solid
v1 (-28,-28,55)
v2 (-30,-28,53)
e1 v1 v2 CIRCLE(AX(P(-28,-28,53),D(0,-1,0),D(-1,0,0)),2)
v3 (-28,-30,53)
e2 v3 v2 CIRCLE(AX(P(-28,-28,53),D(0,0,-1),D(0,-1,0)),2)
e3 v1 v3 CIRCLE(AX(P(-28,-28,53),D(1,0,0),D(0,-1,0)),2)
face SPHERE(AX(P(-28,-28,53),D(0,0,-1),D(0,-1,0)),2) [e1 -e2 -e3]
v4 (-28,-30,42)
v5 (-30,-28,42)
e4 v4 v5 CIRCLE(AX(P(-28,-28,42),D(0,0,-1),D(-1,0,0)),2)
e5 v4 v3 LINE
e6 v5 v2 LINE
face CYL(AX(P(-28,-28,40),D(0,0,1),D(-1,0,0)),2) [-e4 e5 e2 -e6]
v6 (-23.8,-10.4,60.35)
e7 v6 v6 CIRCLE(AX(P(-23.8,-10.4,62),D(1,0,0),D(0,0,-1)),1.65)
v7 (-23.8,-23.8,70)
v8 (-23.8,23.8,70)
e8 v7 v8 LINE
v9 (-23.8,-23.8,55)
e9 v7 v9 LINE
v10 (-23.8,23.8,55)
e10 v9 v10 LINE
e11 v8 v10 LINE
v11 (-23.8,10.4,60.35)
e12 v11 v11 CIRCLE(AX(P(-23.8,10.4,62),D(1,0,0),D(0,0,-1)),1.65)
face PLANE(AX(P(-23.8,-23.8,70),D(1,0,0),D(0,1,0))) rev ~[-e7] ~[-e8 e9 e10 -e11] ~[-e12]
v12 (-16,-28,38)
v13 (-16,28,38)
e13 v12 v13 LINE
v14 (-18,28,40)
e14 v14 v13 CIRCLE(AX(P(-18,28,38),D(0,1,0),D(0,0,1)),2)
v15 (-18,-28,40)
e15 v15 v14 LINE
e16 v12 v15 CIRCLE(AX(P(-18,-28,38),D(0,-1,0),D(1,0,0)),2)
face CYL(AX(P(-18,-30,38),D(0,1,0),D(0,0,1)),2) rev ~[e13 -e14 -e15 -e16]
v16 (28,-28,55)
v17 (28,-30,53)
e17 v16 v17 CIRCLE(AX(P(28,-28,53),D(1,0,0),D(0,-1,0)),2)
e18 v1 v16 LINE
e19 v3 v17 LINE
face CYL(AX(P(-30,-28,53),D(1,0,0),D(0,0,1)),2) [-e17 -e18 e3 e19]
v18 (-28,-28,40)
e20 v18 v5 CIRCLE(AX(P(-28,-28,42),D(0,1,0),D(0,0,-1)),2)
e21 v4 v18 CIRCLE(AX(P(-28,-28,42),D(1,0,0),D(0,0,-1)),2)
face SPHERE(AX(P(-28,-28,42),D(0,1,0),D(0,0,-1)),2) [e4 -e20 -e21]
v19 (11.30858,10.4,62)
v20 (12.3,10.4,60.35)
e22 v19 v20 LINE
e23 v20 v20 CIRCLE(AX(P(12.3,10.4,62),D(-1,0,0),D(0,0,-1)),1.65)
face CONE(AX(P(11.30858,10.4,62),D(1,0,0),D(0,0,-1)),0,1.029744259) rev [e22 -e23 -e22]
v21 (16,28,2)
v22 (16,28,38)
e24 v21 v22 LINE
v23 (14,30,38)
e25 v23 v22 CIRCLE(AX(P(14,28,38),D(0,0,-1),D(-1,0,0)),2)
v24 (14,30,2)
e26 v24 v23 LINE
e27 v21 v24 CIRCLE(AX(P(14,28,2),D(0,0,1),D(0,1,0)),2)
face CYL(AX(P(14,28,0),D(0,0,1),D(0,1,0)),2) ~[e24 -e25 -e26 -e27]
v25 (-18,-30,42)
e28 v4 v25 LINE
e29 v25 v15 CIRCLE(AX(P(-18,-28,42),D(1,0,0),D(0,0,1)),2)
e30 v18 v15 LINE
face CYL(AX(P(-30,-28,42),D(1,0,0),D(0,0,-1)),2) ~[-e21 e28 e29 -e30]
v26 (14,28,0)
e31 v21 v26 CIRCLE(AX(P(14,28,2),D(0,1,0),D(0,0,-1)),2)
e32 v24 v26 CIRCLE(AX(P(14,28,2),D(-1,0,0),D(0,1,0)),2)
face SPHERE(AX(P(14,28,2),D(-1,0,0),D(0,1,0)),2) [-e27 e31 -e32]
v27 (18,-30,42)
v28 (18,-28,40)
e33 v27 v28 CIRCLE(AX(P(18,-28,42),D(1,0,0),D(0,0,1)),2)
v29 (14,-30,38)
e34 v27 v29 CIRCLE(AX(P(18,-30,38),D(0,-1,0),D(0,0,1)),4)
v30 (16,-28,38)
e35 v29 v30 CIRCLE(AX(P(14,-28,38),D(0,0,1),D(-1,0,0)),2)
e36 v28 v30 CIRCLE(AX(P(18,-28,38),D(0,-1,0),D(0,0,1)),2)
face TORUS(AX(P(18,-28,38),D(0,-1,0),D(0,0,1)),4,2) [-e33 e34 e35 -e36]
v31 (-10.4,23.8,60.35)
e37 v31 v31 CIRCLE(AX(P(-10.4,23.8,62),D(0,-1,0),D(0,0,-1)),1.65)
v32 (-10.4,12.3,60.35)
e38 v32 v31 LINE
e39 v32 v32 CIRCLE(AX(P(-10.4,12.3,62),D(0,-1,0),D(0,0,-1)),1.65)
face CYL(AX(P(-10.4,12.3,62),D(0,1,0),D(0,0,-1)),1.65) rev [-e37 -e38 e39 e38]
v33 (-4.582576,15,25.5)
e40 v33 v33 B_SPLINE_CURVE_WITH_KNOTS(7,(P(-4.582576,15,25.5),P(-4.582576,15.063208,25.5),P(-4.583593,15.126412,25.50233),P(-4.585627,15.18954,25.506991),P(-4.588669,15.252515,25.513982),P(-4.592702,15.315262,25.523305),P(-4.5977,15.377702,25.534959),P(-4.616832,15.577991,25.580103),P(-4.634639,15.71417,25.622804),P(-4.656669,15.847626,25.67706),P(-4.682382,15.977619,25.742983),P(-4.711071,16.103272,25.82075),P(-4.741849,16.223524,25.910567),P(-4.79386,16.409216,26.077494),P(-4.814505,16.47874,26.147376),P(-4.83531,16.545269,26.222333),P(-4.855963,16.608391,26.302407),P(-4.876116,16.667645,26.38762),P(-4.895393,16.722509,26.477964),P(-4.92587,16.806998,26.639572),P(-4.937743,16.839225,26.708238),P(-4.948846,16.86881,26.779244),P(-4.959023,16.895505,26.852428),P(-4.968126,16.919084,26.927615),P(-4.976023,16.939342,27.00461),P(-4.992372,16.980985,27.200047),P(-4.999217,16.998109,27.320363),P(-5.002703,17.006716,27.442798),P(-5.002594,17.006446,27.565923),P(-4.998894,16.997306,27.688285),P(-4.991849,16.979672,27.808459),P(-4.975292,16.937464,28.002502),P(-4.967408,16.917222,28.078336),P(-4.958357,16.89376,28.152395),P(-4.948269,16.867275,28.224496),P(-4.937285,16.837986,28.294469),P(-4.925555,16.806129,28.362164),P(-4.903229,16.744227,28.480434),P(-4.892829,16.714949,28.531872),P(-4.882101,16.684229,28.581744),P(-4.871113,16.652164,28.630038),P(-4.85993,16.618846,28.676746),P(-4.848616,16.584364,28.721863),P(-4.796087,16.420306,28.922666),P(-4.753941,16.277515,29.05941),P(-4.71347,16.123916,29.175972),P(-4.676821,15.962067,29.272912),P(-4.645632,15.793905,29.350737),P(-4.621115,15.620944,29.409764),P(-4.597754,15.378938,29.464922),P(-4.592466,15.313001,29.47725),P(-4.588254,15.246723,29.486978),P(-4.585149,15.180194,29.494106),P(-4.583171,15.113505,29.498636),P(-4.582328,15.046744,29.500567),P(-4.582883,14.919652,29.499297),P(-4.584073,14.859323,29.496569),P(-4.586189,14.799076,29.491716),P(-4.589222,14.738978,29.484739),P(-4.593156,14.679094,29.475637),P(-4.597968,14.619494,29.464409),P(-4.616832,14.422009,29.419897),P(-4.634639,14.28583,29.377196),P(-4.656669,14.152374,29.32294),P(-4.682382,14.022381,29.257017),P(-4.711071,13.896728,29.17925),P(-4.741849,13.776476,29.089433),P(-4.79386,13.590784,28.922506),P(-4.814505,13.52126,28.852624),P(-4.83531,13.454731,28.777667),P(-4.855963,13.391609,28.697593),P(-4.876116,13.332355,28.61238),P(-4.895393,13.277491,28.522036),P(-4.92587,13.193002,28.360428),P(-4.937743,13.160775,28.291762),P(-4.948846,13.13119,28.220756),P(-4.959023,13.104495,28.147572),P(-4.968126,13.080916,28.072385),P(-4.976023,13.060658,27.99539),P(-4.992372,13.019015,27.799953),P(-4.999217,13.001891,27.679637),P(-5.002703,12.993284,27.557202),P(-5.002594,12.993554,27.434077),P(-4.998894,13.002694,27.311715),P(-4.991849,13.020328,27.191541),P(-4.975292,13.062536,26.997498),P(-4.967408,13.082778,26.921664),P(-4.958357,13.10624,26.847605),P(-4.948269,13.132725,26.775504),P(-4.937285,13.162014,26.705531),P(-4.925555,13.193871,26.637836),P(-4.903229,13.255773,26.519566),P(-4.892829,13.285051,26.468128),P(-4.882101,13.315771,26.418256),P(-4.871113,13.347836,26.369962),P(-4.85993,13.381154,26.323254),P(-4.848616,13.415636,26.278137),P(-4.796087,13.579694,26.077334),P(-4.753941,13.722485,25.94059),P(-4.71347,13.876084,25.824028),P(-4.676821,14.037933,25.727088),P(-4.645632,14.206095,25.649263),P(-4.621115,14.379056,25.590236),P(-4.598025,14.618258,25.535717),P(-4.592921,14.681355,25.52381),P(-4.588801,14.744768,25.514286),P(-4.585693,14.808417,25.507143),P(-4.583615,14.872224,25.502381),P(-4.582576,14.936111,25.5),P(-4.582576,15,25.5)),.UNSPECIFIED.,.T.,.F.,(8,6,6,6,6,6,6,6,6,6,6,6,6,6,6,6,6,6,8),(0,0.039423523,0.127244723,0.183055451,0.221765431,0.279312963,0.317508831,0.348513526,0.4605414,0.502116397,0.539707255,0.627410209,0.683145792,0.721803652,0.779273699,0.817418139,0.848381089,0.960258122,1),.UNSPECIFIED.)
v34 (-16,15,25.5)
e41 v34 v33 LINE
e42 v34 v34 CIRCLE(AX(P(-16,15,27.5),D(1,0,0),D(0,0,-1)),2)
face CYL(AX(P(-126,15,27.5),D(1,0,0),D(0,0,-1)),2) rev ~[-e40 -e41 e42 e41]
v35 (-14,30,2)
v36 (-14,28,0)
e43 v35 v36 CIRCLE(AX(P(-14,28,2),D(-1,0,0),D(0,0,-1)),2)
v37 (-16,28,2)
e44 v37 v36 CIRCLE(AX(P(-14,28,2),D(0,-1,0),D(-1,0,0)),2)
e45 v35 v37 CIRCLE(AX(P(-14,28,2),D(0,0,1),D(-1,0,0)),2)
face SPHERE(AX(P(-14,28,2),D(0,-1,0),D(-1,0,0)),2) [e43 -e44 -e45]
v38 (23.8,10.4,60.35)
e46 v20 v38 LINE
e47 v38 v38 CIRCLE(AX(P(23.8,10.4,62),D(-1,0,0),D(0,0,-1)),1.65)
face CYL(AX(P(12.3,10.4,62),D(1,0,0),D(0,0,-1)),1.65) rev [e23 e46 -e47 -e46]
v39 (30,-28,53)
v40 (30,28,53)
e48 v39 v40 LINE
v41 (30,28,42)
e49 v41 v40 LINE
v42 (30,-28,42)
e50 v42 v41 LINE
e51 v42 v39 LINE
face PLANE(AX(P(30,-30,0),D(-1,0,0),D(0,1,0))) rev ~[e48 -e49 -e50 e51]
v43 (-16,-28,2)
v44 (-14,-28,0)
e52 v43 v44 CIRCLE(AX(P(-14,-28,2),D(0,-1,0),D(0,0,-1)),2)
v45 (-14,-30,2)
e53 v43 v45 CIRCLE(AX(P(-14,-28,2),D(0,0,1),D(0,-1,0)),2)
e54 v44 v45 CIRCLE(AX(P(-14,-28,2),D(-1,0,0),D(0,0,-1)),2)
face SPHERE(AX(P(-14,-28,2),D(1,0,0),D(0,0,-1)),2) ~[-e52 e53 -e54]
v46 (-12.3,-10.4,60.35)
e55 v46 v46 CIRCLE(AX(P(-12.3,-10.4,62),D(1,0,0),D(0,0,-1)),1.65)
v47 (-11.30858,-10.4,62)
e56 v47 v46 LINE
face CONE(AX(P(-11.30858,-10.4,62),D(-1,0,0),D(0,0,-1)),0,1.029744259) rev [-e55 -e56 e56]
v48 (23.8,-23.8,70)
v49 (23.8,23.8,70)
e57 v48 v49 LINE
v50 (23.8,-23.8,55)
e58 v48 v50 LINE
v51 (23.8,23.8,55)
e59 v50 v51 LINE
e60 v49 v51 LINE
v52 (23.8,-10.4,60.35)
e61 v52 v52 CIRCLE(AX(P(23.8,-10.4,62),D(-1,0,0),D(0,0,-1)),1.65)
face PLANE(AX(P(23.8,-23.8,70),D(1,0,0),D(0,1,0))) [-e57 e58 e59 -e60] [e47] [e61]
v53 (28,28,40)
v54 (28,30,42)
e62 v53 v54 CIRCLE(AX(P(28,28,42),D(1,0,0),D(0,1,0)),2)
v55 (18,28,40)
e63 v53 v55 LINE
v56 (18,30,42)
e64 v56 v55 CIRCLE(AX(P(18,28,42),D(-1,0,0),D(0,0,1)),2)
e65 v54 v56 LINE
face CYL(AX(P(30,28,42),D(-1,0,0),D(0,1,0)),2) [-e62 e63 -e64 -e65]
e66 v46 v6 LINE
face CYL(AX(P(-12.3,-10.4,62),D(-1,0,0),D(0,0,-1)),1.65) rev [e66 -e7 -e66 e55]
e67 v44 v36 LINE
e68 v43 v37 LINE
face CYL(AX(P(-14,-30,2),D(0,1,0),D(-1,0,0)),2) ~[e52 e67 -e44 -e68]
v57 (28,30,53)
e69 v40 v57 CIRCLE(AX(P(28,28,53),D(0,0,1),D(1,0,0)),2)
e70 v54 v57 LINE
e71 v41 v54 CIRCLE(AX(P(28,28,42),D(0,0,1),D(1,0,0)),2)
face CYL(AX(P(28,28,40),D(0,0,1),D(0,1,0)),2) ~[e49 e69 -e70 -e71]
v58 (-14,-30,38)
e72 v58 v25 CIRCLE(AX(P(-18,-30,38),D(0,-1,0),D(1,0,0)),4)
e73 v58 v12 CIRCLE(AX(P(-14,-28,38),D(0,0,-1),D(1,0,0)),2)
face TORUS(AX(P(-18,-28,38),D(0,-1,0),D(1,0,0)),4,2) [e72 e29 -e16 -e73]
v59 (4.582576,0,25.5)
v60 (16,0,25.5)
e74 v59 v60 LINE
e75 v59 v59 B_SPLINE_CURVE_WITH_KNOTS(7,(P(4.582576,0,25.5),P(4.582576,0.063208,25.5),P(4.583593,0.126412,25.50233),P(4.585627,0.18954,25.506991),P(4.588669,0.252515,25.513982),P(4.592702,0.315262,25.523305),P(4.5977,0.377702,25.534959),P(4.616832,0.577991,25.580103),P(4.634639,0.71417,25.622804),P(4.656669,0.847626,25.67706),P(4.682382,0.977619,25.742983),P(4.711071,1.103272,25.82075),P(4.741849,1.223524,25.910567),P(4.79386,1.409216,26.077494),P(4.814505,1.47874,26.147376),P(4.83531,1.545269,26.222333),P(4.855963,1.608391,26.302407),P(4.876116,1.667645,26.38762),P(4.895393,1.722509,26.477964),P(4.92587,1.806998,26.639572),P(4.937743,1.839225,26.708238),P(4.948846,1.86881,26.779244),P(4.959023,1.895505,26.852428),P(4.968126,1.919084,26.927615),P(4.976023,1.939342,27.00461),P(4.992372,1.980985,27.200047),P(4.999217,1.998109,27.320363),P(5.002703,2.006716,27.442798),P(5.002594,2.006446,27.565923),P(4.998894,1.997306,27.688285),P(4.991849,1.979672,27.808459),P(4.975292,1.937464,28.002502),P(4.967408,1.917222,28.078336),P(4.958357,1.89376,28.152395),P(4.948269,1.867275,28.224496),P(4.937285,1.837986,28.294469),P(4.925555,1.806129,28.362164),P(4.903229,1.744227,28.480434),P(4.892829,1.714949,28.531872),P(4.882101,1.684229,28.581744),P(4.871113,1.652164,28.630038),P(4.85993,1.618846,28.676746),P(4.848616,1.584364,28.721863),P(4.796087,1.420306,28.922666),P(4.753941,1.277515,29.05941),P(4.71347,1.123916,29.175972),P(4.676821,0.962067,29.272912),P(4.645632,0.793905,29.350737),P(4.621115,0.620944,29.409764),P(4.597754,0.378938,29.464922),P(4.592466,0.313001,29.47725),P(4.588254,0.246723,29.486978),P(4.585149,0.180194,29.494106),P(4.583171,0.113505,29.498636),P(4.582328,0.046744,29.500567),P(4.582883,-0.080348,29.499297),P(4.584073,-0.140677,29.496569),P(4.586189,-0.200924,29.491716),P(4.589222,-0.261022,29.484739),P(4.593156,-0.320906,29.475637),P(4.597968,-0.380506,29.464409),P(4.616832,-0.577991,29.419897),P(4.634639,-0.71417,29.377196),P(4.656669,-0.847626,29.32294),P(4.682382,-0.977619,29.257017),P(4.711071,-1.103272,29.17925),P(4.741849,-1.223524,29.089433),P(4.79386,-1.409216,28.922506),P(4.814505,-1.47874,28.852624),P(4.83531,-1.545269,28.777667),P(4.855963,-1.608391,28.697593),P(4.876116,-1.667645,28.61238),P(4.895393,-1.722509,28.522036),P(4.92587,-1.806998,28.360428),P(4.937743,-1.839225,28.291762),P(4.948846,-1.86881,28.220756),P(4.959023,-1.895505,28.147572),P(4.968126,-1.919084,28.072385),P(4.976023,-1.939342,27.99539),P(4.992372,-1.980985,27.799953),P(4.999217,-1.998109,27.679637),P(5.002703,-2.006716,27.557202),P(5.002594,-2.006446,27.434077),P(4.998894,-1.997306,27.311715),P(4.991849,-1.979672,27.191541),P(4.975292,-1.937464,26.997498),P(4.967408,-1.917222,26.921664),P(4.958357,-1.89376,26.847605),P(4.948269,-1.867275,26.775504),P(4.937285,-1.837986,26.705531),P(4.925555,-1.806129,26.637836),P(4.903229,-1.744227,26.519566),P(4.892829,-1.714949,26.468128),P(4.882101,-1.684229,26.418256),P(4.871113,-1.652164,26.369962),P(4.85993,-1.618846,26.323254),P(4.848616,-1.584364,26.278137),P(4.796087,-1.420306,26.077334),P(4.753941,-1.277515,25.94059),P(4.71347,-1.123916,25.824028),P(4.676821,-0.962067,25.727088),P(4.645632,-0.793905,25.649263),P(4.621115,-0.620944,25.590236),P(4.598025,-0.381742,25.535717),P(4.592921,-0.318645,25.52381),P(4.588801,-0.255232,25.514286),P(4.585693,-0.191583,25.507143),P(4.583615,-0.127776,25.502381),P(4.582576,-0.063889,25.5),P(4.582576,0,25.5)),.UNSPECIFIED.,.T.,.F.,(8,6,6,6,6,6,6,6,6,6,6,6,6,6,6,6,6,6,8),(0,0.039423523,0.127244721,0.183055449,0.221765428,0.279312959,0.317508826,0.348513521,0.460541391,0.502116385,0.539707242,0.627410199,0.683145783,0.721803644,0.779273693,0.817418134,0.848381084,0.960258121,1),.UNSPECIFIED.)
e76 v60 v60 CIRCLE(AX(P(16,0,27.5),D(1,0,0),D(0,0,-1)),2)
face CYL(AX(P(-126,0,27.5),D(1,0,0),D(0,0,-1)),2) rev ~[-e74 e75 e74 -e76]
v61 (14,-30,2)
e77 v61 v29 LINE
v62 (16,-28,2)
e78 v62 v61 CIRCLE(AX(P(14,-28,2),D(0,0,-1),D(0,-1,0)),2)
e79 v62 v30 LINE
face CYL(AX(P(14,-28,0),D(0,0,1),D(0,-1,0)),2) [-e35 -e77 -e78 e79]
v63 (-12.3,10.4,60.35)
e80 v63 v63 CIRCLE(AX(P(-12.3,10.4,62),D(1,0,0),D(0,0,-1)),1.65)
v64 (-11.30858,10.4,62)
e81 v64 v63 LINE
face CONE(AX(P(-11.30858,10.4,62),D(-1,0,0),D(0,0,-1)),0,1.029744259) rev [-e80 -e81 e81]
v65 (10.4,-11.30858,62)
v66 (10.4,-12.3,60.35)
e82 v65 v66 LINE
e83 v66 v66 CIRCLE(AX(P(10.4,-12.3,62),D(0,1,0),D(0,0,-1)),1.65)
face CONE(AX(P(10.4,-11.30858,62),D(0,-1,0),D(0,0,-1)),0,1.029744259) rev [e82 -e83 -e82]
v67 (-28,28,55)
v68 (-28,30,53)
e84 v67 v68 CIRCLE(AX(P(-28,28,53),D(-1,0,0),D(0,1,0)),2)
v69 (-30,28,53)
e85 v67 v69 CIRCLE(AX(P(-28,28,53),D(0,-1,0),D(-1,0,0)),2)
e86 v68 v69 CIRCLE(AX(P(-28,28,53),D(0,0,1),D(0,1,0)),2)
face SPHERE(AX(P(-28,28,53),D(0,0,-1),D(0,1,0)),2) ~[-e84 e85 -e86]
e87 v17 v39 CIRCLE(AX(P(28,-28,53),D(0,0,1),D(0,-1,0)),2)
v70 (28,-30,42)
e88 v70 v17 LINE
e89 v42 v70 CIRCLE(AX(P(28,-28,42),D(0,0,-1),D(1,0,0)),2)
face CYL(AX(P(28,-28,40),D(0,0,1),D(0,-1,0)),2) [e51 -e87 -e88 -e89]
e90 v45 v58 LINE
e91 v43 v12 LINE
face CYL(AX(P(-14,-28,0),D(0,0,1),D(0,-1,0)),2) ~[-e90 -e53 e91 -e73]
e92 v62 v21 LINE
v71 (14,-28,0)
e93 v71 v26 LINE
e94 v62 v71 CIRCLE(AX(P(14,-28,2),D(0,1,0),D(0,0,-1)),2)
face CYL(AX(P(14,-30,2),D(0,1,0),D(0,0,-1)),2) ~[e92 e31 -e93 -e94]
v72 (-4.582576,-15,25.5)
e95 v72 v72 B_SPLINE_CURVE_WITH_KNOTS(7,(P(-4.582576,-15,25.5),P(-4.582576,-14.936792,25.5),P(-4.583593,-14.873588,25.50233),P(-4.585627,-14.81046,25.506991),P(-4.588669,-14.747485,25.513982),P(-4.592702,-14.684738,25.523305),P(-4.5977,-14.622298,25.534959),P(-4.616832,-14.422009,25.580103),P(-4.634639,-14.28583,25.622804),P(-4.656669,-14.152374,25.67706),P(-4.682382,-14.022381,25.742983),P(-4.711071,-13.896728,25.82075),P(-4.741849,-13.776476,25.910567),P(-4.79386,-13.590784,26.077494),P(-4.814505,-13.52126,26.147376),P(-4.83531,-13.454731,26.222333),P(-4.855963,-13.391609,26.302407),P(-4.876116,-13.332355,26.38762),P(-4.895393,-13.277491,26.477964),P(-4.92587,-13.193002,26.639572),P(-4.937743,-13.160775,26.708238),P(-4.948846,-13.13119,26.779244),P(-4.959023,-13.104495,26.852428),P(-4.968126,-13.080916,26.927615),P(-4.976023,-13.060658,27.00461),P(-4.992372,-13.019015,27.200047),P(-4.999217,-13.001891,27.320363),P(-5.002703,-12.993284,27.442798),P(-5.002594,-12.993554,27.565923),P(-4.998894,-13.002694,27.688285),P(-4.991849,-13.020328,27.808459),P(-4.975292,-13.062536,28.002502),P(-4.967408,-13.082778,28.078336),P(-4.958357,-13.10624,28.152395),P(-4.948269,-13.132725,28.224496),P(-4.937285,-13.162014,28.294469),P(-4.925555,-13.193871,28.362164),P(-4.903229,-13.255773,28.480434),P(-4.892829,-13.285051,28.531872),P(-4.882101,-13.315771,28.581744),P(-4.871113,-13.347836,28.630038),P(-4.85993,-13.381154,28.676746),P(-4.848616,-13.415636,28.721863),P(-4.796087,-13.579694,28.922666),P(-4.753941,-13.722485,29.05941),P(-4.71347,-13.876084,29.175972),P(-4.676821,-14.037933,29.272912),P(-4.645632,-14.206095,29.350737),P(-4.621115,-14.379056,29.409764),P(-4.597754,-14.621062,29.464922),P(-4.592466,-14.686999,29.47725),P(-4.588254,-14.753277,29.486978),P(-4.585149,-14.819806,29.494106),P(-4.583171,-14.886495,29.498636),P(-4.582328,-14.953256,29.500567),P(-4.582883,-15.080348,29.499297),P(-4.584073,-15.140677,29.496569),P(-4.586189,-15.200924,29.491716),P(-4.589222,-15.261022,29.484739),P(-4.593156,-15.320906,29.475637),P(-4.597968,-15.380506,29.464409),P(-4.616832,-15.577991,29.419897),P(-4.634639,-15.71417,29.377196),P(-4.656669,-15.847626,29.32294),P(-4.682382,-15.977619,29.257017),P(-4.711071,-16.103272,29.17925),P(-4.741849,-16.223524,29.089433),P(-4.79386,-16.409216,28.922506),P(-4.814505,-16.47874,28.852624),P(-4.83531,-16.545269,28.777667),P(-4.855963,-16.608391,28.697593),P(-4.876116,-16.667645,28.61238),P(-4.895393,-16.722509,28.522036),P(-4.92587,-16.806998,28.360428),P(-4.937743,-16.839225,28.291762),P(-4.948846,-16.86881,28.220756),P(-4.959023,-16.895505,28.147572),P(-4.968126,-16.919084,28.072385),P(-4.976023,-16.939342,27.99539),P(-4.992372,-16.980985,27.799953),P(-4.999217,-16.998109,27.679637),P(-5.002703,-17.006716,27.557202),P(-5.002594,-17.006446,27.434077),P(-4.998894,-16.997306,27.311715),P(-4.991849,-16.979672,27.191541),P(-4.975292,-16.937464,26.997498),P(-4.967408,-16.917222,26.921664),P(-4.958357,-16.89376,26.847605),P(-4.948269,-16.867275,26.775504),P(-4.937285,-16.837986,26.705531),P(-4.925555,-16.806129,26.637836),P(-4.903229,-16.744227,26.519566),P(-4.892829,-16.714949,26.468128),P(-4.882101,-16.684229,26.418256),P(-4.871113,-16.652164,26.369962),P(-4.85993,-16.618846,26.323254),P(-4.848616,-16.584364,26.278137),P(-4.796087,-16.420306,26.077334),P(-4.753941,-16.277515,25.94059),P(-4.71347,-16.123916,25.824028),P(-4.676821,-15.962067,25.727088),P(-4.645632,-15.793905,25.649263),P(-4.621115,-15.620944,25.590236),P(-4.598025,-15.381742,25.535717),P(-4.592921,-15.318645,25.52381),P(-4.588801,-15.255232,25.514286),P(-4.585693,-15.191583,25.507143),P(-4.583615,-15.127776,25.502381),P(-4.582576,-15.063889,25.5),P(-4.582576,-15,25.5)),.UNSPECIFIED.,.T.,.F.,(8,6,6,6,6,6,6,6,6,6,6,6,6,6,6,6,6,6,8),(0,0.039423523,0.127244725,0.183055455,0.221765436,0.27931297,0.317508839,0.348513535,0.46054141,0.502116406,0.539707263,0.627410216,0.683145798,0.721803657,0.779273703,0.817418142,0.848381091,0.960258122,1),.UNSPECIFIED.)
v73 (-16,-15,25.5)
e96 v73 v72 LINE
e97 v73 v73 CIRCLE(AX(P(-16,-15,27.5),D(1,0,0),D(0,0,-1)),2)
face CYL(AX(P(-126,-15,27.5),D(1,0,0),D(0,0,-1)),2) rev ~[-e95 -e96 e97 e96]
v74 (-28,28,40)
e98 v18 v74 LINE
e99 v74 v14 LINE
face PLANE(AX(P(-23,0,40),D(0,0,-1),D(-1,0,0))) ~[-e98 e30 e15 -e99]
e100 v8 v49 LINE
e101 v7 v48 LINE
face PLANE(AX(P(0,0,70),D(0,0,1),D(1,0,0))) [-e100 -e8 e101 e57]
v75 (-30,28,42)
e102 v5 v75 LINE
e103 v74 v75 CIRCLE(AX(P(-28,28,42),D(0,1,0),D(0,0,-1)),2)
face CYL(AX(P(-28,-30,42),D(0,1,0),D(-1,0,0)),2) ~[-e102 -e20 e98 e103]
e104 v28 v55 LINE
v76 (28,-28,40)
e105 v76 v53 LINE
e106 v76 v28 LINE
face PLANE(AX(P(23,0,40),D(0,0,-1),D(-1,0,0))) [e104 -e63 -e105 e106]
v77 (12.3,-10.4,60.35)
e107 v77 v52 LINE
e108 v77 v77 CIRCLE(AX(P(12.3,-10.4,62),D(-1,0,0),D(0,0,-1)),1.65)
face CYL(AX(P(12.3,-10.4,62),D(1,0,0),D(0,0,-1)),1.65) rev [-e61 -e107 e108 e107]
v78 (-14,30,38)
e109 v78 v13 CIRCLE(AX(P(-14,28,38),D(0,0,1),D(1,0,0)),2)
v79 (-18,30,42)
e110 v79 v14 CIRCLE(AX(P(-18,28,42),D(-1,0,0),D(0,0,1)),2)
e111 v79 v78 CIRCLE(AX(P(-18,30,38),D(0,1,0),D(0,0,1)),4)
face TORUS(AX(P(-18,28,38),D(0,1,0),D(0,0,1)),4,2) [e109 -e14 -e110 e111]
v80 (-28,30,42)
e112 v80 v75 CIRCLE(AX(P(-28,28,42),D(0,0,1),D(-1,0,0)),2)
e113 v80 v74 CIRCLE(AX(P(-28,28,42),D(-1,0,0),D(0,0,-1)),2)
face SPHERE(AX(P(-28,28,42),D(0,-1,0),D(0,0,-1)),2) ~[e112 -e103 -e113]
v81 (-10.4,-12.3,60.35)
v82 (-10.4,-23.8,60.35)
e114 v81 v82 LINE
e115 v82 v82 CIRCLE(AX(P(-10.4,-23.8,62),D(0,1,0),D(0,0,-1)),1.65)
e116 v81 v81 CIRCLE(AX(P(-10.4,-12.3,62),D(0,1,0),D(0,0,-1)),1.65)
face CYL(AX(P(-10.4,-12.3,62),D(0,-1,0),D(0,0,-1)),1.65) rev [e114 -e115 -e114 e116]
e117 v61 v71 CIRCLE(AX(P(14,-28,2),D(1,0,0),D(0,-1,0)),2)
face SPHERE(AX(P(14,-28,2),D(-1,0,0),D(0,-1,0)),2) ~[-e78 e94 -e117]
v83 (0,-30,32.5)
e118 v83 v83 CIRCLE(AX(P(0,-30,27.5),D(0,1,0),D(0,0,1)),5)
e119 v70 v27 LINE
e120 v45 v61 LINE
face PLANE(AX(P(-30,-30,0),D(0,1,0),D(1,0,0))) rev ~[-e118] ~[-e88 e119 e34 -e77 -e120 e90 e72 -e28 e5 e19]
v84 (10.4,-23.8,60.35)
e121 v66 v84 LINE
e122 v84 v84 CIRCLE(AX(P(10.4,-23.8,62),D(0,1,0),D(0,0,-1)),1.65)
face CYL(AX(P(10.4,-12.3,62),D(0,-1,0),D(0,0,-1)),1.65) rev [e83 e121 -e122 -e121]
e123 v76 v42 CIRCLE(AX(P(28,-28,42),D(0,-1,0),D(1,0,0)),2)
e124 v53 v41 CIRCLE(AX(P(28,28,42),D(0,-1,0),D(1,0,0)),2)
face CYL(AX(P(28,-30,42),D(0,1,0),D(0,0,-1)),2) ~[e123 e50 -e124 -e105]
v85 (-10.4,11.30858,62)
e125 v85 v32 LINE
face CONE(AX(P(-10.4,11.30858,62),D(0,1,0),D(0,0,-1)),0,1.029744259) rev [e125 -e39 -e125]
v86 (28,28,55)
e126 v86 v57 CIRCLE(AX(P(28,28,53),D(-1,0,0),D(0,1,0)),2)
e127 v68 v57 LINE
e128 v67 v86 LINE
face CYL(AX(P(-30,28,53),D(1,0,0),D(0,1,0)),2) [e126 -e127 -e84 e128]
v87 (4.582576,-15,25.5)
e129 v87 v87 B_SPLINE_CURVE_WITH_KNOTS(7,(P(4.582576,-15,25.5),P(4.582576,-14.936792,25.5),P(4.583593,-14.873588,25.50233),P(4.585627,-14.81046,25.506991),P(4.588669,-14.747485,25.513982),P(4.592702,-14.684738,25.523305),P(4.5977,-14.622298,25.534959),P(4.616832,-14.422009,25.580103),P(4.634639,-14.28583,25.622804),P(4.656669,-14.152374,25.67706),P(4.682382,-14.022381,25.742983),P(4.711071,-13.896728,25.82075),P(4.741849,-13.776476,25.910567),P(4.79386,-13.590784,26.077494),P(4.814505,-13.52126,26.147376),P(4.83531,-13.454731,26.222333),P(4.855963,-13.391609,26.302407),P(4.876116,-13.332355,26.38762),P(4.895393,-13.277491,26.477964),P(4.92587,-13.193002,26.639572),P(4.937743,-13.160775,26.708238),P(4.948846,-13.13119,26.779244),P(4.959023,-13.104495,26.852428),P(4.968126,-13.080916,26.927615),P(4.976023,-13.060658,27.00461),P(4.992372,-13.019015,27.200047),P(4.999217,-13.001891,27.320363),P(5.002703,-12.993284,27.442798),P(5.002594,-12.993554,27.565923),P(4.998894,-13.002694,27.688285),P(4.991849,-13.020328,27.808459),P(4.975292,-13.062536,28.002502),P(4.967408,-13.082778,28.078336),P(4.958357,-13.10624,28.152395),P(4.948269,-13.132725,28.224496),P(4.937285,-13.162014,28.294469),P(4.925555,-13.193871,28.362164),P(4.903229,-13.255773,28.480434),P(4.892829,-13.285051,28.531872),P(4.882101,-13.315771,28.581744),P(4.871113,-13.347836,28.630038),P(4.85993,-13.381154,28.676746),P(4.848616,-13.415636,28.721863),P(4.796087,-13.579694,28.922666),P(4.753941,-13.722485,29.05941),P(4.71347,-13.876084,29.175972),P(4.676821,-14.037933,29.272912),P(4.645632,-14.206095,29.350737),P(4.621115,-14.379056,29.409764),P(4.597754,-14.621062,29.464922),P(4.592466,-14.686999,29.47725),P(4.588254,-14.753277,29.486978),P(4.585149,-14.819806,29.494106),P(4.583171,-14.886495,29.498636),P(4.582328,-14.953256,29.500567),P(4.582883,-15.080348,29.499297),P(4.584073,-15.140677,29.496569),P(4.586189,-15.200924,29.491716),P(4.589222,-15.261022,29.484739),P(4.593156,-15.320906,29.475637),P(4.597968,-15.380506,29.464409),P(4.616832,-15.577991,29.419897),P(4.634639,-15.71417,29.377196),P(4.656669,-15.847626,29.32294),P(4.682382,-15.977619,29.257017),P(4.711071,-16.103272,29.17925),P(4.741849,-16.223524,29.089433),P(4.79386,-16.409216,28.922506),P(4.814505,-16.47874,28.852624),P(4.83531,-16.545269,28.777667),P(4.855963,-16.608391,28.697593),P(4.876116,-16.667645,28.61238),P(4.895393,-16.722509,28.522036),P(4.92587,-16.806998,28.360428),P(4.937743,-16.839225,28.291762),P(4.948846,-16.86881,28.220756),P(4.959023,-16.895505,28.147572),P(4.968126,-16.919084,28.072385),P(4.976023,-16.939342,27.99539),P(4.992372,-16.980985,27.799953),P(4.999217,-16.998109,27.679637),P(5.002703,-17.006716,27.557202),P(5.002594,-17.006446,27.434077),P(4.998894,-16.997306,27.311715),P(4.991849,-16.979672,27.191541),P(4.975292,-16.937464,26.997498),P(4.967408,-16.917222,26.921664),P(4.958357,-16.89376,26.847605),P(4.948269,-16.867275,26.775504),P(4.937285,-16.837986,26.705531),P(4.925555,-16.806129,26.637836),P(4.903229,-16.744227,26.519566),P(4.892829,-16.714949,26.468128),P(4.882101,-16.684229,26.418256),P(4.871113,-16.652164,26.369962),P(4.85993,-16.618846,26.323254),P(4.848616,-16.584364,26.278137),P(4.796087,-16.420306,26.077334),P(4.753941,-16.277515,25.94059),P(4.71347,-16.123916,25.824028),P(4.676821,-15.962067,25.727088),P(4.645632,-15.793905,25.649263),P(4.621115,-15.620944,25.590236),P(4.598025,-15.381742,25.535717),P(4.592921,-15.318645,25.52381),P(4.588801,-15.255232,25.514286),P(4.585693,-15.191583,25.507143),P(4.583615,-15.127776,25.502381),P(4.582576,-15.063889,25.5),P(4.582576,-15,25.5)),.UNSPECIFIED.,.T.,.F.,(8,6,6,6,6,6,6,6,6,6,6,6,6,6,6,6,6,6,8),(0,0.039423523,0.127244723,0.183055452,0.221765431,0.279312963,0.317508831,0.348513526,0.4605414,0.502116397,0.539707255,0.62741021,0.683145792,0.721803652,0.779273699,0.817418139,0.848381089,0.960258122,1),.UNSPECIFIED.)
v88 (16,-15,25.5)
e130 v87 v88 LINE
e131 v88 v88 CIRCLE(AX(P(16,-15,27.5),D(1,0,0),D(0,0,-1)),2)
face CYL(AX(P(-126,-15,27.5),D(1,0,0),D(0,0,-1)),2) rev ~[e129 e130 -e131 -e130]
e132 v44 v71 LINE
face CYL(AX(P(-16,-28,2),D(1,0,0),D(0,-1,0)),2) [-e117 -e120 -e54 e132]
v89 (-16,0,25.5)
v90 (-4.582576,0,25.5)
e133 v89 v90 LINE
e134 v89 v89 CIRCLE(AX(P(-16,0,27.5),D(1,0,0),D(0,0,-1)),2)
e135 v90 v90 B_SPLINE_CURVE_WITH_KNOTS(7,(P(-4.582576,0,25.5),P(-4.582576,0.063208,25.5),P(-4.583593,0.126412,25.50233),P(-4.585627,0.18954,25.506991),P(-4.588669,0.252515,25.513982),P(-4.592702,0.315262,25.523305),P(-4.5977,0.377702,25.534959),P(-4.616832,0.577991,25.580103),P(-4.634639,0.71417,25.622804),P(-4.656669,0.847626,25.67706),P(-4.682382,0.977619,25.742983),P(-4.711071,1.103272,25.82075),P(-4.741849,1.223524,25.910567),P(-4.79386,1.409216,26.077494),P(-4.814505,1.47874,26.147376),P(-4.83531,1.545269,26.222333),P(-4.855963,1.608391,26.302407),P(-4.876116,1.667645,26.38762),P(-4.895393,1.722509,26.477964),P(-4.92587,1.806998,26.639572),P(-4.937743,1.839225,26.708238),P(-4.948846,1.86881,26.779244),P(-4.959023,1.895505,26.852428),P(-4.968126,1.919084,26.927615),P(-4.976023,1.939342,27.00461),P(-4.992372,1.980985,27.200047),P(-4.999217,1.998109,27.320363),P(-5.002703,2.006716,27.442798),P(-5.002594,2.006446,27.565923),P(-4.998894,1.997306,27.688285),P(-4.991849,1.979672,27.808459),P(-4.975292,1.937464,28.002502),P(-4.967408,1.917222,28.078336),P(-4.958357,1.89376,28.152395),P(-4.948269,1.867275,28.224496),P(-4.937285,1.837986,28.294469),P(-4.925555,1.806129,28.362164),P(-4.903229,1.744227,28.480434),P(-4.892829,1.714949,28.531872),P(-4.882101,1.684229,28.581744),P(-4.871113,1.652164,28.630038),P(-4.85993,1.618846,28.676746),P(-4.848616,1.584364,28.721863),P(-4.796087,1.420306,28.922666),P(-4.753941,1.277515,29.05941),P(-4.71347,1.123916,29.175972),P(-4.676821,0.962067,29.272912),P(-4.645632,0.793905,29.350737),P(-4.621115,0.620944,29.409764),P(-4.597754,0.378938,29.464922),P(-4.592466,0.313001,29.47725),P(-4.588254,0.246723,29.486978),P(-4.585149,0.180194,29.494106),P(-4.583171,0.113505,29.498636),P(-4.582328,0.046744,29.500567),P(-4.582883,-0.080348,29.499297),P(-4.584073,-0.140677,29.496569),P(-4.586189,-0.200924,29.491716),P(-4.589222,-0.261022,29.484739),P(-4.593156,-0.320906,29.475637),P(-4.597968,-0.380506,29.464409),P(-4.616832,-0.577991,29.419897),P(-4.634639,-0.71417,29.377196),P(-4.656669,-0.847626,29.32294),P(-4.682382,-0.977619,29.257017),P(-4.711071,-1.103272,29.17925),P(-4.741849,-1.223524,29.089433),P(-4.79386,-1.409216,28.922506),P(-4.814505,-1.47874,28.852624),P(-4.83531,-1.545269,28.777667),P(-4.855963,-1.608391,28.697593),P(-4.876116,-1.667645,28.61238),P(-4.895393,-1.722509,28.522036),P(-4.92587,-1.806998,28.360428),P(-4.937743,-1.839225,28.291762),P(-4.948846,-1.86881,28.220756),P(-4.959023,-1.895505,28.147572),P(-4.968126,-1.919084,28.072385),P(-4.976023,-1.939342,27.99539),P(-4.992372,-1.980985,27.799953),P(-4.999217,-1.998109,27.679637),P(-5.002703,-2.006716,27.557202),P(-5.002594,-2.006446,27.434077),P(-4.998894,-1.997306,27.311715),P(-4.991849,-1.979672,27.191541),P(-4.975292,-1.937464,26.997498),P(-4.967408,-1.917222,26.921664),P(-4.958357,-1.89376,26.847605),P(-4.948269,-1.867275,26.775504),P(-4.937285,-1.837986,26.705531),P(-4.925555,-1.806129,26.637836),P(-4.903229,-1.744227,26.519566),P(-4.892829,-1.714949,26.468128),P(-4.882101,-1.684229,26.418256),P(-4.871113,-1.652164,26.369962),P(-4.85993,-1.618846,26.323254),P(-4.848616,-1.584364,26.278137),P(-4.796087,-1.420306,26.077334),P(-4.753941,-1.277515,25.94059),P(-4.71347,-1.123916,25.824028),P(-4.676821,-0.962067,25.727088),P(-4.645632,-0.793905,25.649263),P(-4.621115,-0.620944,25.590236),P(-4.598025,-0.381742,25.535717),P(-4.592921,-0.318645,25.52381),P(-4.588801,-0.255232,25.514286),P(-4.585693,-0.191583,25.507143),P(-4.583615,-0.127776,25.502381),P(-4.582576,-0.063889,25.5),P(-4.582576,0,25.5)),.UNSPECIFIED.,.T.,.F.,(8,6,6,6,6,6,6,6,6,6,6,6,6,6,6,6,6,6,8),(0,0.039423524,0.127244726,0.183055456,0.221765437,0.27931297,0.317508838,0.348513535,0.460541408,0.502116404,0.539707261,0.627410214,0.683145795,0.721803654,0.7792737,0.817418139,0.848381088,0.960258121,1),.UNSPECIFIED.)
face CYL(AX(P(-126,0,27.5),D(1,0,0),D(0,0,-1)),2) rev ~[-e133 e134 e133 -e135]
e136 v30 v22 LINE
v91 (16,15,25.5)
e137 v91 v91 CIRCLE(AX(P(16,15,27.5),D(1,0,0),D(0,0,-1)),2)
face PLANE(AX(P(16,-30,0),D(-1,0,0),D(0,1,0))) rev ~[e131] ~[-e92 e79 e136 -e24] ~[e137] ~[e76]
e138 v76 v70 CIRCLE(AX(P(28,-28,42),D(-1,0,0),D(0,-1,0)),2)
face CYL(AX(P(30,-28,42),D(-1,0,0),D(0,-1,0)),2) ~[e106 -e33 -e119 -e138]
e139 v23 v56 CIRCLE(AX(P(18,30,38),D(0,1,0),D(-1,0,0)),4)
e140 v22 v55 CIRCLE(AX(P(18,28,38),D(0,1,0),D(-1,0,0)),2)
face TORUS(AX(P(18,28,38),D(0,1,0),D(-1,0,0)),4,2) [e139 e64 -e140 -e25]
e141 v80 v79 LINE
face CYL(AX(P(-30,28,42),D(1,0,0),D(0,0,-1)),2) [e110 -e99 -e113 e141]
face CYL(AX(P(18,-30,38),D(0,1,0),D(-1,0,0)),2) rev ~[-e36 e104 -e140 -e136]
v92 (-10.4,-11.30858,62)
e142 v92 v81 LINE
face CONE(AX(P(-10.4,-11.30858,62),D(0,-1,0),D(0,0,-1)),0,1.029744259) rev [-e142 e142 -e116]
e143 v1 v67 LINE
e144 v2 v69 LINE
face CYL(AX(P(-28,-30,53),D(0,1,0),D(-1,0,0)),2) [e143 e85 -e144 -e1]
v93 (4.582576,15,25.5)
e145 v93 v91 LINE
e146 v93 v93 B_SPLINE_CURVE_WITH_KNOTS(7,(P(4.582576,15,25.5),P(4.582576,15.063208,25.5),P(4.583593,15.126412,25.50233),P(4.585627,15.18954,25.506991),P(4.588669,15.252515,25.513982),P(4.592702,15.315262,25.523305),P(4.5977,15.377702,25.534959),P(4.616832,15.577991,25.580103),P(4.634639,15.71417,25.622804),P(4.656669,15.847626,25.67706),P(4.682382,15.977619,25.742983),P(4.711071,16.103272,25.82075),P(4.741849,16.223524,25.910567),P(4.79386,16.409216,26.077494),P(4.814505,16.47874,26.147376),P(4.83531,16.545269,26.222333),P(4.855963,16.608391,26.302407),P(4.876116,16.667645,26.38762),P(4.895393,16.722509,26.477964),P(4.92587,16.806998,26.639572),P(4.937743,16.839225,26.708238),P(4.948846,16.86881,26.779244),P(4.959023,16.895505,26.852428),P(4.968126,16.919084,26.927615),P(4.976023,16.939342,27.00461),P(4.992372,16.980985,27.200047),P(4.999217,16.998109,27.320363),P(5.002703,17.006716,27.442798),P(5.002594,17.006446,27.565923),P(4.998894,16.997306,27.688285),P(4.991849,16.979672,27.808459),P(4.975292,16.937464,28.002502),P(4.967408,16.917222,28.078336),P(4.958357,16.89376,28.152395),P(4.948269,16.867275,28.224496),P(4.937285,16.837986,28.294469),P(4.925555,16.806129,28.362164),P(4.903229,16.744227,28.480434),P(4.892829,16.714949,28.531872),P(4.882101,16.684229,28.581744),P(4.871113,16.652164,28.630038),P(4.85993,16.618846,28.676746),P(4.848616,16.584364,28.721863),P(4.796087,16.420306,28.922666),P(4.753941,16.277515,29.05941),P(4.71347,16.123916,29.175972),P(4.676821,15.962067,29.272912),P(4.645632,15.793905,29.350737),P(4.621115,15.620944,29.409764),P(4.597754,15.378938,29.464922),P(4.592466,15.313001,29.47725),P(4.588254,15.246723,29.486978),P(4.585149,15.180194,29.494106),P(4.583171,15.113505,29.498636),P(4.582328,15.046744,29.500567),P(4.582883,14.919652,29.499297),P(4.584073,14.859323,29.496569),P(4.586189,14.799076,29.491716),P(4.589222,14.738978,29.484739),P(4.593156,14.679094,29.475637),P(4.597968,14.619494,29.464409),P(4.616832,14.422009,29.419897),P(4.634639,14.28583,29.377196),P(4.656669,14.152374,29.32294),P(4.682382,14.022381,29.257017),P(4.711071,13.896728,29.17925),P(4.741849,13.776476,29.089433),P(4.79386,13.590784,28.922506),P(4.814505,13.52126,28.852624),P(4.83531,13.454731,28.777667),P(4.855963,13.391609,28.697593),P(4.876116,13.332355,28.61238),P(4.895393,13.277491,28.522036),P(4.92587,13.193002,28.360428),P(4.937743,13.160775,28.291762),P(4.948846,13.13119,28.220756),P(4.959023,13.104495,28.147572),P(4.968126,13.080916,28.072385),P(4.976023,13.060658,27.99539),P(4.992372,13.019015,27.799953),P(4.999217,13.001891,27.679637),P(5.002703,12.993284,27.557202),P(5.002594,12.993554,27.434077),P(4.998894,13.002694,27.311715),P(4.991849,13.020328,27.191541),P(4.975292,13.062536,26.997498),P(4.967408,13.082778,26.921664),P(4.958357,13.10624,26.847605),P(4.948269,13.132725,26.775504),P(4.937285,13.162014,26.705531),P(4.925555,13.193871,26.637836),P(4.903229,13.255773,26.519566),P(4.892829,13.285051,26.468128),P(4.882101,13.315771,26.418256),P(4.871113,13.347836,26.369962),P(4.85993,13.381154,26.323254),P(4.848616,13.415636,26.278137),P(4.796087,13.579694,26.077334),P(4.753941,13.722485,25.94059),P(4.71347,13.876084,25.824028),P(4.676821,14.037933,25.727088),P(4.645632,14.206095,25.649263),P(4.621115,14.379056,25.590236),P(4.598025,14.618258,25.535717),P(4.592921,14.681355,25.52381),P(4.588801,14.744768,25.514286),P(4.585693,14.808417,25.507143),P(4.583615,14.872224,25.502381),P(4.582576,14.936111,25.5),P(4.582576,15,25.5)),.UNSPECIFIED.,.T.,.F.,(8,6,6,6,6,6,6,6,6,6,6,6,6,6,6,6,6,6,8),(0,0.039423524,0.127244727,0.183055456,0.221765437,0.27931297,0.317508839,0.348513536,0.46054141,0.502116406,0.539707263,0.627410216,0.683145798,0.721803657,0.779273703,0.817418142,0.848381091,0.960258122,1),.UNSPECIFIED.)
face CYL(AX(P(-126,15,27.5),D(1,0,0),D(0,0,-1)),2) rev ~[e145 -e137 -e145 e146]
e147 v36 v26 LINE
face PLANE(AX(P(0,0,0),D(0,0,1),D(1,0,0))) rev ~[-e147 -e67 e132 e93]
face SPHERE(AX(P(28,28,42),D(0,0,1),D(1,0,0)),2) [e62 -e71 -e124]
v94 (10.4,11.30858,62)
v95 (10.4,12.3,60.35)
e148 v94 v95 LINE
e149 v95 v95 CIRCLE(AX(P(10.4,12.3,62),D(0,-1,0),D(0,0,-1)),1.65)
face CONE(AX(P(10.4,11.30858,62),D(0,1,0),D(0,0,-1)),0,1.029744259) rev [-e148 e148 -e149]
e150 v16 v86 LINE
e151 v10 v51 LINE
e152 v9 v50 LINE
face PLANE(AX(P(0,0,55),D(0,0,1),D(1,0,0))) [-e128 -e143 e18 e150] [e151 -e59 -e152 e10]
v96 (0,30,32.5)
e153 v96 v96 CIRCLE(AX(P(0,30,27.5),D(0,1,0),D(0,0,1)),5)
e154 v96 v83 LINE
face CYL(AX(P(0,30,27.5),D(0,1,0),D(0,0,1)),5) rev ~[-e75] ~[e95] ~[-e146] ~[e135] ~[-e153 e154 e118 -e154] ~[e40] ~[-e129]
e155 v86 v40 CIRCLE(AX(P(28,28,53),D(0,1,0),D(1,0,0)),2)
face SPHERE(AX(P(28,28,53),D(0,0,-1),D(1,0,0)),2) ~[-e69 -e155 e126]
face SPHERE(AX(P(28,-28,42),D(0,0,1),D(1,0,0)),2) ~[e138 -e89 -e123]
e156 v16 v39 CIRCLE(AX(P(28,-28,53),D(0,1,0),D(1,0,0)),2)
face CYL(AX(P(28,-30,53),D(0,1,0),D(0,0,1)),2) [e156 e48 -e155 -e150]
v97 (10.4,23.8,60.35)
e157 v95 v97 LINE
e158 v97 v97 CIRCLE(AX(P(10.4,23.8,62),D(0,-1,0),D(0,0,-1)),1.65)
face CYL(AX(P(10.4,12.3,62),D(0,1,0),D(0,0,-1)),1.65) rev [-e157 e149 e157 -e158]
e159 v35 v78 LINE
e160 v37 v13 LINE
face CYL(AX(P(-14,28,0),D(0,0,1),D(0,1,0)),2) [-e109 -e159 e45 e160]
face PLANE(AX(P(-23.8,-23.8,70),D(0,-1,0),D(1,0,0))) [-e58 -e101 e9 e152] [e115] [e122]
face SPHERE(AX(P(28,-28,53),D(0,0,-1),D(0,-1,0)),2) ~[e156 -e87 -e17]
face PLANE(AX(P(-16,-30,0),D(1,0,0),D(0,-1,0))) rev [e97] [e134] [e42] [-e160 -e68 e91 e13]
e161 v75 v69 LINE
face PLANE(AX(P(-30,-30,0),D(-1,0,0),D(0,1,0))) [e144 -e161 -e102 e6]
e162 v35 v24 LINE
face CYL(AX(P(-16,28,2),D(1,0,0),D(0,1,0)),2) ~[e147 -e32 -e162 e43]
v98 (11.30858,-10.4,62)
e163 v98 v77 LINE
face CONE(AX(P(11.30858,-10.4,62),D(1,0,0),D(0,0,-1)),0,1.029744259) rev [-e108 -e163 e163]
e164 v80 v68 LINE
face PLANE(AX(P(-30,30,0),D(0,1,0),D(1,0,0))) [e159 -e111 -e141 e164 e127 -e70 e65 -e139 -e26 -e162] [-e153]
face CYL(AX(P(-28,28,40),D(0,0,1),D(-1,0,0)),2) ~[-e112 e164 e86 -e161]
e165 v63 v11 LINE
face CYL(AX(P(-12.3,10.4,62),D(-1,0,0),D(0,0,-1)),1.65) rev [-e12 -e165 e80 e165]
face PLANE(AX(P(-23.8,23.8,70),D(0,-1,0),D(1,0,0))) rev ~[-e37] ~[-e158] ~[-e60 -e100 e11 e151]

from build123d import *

# Parameters (mm, degrees)
SKETCH2_W                  = 60
SKETCH2_H                  = 60
BOSS_EXTRUDE1_DEPTH        = 70
SKETCH3_OUTSIDE_W          = 84
SKETCH3_OUTSIDE_H          = 84
SKETCH3_OUTSIDE_W_2        = 47.6
SKETCH3_OUTSIDE_H_2        = 47.6
CUT_EXTRUDE1_DEPTH         = 15
M4_TAPPED_HOLE1_AT_2_COUNT = 2
M4_TAPPED_HOLE1_AT_2_PITCH = 20.8
CIRPATTERN1_COUNT          = 4
SKETCH19_R                 = 5
CUT_EXTRUDE2_DEPTH         = 97.953597148
SKETCH21_W                 = 14
SKETCH21_H                 = 60
CUT_EXTRUDE3_DEPTH         = 40
F_4_0MM_DOWEL_HOLE1_D      = 4
FILLET1_R                  = 2


with BuildPart() as part:
    # Sketch2 → Boss-Extrude1 (new body)
    with BuildSketch(Plane.XY):
        Rectangle(SKETCH2_W, SKETCH2_H)
    extrude(amount=BOSS_EXTRUDE1_DEPTH)

    # Sketch3 outside → Cut-Extrude1 (cut)
    with BuildSketch(Plane.XY.offset(70)):
        Rectangle(SKETCH3_OUTSIDE_W, SKETCH3_OUTSIDE_H)
        Rectangle(SKETCH3_OUTSIDE_W_2, SKETCH3_OUTSIDE_H_2, mode=Mode.SUBTRACT)
    extrude(amount=-CUT_EXTRUDE1_DEPTH, mode=Mode.SUBTRACT)

    # Sketch16 → M4 Tapped Hole1 (revolve, cut)
    with BuildSketch(Plane(origin=(23.8, -10.4, 62), x_dir=(0, 0, -1), z_dir=(0, 1, 0))):
        Polygon((0, 0), (0, 12.491420021), (1.65, 11.5), (1.65, 0), align=None)
    m4_tapped_hole1 = revolve(axis=Axis((30.15, -10.4, 62), (-1, 0, 0)), mode=Mode.SUBTRACT)

    # M4 Tapped Hole1 at 2: M4 Tapped Hole1 ×2
    with Locations(*[(0, i * M4_TAPPED_HOLE1_AT_2_PITCH, 0) for i in range(1, M4_TAPPED_HOLE1_AT_2_COUNT)]):
        add(m4_tapped_hole1, mode=Mode.SUBTRACT)

    # CirPattern1: M4 Tapped Hole1 ×4 about axis
    cirpattern1_axis = Axis((0, 0, 70), (0, 0, -1))
    for i in range(1, CIRPATTERN1_COUNT):
        add(m4_tapped_hole1.rotate(cirpattern1_axis, i * 360 / CIRPATTERN1_COUNT), mode=Mode.SUBTRACT)

    # CirPattern1 copy 1 sketch → CirPattern1 copy 1 (revolve, cut)
    with BuildSketch(Plane(origin=(10.4, -23.8, 62), x_dir=(0, 0, -1), z_dir=(1, 0, 0))):
        Polygon((0, 0), (0, 12.491420021), (1.65, 11.5), (1.65, 0), align=None)
    revolve(axis=Axis((10.4, -30.15, 62), (0, 1, 0)), mode=Mode.SUBTRACT)

    # CirPattern1 copy 2 sketch → CirPattern1 copy 2 (revolve, cut)
    with BuildSketch(Plane(origin=(-23.8, -10.4, 62), x_dir=(0, 0, -1), z_dir=(0, -1, 0))):
        Polygon((0, 0), (0, 12.491420021), (1.65, 11.5), (1.65, 0), align=None)
    revolve(axis=Axis((-30.15, -10.4, 62), (1, 0, 0)), mode=Mode.SUBTRACT)

    # CirPattern1 copy 3 sketch → CirPattern1 copy 3 (revolve, cut)
    with BuildSketch(Plane(origin=(-10.4, 23.8, 62), x_dir=(0, 0, -1), z_dir=(-1, 0, 0))):
        Polygon((0, 0), (0, 12.491420021), (1.65, 11.5), (1.65, 0), align=None)
    revolve(axis=Axis((-10.4, 30.15, 62), (0, -1, 0)), mode=Mode.SUBTRACT)

    # Sketch19 → Cut-Extrude2 (cut, through all)
    with BuildSketch(Plane(origin=(0, 30, 0), x_dir=(1, 0, 0), z_dir=(0, 1, 0))):
        with Locations(Location((0, -27.5, 0), (0, 0, 270))):
            Circle(SKETCH19_R)
    extrude(amount=-CUT_EXTRUDE2_DEPTH, mode=Mode.SUBTRACT)

    # Sketch21 → Cut-Extrude3 (cut)
    with BuildSketch(Plane(origin=(0, 0, 0), x_dir=(-1, 0, 0), z_dir=(0, 0, -1))):
        with Locations((-23, 0)):
            Rectangle(SKETCH21_W, SKETCH21_H)
    cut_extrude3 = extrude(amount=-CUT_EXTRUDE3_DEPTH, mode=Mode.SUBTRACT)

    # Mirror1: Cut-Extrude3 across plane
    add(cut_extrude3.mirror(Plane(origin=(0, 0, 0), x_dir=(0, 0, 1), z_dir=(1, 0, 0))), mode=Mode.SUBTRACT)

    # Ø4.0mm Dowel Hole1 (through all)
    with Locations(Plane.ZY.offset(16)):
        with Locations((27.5, 15), (27.5, 0), (27.5, -15)):
            Hole(F_4_0MM_DOWEL_HOLE1_D / 2)

    # Fillet1
    fillet1_edges = [part.edges().sort_by_distance(p)[0] for p in [
        (0, -30, 0),
        (-16, 0, 0),
        (-16, -30, 20),
        (-16, 30, 20),
        (-30, 0, 40),
        (-23, -30, 40),
        (-16, 0, 40),
        (-23, 30, 40),
        (30, -30, 47.5),
        (-30, -30, 47.5),
        (0, -30, 55),
        (-30, 30, 47.5),
        (30, 30, 47.5),
        (30, 0, 55),
        (0, 30, 55),
        (-30, 0, 55),
        (0, 30, 0),
        (30, 0, 40),
        (23, 30, 40),
        (16, 0, 40),
        (16, 30, 20),
        (23, -30, 40),
        (16, -30, 20),
        (16, 0, 0),
    ]]
    fillet(fillet1_edges, radius=FILLET1_R)


solid = part.part
